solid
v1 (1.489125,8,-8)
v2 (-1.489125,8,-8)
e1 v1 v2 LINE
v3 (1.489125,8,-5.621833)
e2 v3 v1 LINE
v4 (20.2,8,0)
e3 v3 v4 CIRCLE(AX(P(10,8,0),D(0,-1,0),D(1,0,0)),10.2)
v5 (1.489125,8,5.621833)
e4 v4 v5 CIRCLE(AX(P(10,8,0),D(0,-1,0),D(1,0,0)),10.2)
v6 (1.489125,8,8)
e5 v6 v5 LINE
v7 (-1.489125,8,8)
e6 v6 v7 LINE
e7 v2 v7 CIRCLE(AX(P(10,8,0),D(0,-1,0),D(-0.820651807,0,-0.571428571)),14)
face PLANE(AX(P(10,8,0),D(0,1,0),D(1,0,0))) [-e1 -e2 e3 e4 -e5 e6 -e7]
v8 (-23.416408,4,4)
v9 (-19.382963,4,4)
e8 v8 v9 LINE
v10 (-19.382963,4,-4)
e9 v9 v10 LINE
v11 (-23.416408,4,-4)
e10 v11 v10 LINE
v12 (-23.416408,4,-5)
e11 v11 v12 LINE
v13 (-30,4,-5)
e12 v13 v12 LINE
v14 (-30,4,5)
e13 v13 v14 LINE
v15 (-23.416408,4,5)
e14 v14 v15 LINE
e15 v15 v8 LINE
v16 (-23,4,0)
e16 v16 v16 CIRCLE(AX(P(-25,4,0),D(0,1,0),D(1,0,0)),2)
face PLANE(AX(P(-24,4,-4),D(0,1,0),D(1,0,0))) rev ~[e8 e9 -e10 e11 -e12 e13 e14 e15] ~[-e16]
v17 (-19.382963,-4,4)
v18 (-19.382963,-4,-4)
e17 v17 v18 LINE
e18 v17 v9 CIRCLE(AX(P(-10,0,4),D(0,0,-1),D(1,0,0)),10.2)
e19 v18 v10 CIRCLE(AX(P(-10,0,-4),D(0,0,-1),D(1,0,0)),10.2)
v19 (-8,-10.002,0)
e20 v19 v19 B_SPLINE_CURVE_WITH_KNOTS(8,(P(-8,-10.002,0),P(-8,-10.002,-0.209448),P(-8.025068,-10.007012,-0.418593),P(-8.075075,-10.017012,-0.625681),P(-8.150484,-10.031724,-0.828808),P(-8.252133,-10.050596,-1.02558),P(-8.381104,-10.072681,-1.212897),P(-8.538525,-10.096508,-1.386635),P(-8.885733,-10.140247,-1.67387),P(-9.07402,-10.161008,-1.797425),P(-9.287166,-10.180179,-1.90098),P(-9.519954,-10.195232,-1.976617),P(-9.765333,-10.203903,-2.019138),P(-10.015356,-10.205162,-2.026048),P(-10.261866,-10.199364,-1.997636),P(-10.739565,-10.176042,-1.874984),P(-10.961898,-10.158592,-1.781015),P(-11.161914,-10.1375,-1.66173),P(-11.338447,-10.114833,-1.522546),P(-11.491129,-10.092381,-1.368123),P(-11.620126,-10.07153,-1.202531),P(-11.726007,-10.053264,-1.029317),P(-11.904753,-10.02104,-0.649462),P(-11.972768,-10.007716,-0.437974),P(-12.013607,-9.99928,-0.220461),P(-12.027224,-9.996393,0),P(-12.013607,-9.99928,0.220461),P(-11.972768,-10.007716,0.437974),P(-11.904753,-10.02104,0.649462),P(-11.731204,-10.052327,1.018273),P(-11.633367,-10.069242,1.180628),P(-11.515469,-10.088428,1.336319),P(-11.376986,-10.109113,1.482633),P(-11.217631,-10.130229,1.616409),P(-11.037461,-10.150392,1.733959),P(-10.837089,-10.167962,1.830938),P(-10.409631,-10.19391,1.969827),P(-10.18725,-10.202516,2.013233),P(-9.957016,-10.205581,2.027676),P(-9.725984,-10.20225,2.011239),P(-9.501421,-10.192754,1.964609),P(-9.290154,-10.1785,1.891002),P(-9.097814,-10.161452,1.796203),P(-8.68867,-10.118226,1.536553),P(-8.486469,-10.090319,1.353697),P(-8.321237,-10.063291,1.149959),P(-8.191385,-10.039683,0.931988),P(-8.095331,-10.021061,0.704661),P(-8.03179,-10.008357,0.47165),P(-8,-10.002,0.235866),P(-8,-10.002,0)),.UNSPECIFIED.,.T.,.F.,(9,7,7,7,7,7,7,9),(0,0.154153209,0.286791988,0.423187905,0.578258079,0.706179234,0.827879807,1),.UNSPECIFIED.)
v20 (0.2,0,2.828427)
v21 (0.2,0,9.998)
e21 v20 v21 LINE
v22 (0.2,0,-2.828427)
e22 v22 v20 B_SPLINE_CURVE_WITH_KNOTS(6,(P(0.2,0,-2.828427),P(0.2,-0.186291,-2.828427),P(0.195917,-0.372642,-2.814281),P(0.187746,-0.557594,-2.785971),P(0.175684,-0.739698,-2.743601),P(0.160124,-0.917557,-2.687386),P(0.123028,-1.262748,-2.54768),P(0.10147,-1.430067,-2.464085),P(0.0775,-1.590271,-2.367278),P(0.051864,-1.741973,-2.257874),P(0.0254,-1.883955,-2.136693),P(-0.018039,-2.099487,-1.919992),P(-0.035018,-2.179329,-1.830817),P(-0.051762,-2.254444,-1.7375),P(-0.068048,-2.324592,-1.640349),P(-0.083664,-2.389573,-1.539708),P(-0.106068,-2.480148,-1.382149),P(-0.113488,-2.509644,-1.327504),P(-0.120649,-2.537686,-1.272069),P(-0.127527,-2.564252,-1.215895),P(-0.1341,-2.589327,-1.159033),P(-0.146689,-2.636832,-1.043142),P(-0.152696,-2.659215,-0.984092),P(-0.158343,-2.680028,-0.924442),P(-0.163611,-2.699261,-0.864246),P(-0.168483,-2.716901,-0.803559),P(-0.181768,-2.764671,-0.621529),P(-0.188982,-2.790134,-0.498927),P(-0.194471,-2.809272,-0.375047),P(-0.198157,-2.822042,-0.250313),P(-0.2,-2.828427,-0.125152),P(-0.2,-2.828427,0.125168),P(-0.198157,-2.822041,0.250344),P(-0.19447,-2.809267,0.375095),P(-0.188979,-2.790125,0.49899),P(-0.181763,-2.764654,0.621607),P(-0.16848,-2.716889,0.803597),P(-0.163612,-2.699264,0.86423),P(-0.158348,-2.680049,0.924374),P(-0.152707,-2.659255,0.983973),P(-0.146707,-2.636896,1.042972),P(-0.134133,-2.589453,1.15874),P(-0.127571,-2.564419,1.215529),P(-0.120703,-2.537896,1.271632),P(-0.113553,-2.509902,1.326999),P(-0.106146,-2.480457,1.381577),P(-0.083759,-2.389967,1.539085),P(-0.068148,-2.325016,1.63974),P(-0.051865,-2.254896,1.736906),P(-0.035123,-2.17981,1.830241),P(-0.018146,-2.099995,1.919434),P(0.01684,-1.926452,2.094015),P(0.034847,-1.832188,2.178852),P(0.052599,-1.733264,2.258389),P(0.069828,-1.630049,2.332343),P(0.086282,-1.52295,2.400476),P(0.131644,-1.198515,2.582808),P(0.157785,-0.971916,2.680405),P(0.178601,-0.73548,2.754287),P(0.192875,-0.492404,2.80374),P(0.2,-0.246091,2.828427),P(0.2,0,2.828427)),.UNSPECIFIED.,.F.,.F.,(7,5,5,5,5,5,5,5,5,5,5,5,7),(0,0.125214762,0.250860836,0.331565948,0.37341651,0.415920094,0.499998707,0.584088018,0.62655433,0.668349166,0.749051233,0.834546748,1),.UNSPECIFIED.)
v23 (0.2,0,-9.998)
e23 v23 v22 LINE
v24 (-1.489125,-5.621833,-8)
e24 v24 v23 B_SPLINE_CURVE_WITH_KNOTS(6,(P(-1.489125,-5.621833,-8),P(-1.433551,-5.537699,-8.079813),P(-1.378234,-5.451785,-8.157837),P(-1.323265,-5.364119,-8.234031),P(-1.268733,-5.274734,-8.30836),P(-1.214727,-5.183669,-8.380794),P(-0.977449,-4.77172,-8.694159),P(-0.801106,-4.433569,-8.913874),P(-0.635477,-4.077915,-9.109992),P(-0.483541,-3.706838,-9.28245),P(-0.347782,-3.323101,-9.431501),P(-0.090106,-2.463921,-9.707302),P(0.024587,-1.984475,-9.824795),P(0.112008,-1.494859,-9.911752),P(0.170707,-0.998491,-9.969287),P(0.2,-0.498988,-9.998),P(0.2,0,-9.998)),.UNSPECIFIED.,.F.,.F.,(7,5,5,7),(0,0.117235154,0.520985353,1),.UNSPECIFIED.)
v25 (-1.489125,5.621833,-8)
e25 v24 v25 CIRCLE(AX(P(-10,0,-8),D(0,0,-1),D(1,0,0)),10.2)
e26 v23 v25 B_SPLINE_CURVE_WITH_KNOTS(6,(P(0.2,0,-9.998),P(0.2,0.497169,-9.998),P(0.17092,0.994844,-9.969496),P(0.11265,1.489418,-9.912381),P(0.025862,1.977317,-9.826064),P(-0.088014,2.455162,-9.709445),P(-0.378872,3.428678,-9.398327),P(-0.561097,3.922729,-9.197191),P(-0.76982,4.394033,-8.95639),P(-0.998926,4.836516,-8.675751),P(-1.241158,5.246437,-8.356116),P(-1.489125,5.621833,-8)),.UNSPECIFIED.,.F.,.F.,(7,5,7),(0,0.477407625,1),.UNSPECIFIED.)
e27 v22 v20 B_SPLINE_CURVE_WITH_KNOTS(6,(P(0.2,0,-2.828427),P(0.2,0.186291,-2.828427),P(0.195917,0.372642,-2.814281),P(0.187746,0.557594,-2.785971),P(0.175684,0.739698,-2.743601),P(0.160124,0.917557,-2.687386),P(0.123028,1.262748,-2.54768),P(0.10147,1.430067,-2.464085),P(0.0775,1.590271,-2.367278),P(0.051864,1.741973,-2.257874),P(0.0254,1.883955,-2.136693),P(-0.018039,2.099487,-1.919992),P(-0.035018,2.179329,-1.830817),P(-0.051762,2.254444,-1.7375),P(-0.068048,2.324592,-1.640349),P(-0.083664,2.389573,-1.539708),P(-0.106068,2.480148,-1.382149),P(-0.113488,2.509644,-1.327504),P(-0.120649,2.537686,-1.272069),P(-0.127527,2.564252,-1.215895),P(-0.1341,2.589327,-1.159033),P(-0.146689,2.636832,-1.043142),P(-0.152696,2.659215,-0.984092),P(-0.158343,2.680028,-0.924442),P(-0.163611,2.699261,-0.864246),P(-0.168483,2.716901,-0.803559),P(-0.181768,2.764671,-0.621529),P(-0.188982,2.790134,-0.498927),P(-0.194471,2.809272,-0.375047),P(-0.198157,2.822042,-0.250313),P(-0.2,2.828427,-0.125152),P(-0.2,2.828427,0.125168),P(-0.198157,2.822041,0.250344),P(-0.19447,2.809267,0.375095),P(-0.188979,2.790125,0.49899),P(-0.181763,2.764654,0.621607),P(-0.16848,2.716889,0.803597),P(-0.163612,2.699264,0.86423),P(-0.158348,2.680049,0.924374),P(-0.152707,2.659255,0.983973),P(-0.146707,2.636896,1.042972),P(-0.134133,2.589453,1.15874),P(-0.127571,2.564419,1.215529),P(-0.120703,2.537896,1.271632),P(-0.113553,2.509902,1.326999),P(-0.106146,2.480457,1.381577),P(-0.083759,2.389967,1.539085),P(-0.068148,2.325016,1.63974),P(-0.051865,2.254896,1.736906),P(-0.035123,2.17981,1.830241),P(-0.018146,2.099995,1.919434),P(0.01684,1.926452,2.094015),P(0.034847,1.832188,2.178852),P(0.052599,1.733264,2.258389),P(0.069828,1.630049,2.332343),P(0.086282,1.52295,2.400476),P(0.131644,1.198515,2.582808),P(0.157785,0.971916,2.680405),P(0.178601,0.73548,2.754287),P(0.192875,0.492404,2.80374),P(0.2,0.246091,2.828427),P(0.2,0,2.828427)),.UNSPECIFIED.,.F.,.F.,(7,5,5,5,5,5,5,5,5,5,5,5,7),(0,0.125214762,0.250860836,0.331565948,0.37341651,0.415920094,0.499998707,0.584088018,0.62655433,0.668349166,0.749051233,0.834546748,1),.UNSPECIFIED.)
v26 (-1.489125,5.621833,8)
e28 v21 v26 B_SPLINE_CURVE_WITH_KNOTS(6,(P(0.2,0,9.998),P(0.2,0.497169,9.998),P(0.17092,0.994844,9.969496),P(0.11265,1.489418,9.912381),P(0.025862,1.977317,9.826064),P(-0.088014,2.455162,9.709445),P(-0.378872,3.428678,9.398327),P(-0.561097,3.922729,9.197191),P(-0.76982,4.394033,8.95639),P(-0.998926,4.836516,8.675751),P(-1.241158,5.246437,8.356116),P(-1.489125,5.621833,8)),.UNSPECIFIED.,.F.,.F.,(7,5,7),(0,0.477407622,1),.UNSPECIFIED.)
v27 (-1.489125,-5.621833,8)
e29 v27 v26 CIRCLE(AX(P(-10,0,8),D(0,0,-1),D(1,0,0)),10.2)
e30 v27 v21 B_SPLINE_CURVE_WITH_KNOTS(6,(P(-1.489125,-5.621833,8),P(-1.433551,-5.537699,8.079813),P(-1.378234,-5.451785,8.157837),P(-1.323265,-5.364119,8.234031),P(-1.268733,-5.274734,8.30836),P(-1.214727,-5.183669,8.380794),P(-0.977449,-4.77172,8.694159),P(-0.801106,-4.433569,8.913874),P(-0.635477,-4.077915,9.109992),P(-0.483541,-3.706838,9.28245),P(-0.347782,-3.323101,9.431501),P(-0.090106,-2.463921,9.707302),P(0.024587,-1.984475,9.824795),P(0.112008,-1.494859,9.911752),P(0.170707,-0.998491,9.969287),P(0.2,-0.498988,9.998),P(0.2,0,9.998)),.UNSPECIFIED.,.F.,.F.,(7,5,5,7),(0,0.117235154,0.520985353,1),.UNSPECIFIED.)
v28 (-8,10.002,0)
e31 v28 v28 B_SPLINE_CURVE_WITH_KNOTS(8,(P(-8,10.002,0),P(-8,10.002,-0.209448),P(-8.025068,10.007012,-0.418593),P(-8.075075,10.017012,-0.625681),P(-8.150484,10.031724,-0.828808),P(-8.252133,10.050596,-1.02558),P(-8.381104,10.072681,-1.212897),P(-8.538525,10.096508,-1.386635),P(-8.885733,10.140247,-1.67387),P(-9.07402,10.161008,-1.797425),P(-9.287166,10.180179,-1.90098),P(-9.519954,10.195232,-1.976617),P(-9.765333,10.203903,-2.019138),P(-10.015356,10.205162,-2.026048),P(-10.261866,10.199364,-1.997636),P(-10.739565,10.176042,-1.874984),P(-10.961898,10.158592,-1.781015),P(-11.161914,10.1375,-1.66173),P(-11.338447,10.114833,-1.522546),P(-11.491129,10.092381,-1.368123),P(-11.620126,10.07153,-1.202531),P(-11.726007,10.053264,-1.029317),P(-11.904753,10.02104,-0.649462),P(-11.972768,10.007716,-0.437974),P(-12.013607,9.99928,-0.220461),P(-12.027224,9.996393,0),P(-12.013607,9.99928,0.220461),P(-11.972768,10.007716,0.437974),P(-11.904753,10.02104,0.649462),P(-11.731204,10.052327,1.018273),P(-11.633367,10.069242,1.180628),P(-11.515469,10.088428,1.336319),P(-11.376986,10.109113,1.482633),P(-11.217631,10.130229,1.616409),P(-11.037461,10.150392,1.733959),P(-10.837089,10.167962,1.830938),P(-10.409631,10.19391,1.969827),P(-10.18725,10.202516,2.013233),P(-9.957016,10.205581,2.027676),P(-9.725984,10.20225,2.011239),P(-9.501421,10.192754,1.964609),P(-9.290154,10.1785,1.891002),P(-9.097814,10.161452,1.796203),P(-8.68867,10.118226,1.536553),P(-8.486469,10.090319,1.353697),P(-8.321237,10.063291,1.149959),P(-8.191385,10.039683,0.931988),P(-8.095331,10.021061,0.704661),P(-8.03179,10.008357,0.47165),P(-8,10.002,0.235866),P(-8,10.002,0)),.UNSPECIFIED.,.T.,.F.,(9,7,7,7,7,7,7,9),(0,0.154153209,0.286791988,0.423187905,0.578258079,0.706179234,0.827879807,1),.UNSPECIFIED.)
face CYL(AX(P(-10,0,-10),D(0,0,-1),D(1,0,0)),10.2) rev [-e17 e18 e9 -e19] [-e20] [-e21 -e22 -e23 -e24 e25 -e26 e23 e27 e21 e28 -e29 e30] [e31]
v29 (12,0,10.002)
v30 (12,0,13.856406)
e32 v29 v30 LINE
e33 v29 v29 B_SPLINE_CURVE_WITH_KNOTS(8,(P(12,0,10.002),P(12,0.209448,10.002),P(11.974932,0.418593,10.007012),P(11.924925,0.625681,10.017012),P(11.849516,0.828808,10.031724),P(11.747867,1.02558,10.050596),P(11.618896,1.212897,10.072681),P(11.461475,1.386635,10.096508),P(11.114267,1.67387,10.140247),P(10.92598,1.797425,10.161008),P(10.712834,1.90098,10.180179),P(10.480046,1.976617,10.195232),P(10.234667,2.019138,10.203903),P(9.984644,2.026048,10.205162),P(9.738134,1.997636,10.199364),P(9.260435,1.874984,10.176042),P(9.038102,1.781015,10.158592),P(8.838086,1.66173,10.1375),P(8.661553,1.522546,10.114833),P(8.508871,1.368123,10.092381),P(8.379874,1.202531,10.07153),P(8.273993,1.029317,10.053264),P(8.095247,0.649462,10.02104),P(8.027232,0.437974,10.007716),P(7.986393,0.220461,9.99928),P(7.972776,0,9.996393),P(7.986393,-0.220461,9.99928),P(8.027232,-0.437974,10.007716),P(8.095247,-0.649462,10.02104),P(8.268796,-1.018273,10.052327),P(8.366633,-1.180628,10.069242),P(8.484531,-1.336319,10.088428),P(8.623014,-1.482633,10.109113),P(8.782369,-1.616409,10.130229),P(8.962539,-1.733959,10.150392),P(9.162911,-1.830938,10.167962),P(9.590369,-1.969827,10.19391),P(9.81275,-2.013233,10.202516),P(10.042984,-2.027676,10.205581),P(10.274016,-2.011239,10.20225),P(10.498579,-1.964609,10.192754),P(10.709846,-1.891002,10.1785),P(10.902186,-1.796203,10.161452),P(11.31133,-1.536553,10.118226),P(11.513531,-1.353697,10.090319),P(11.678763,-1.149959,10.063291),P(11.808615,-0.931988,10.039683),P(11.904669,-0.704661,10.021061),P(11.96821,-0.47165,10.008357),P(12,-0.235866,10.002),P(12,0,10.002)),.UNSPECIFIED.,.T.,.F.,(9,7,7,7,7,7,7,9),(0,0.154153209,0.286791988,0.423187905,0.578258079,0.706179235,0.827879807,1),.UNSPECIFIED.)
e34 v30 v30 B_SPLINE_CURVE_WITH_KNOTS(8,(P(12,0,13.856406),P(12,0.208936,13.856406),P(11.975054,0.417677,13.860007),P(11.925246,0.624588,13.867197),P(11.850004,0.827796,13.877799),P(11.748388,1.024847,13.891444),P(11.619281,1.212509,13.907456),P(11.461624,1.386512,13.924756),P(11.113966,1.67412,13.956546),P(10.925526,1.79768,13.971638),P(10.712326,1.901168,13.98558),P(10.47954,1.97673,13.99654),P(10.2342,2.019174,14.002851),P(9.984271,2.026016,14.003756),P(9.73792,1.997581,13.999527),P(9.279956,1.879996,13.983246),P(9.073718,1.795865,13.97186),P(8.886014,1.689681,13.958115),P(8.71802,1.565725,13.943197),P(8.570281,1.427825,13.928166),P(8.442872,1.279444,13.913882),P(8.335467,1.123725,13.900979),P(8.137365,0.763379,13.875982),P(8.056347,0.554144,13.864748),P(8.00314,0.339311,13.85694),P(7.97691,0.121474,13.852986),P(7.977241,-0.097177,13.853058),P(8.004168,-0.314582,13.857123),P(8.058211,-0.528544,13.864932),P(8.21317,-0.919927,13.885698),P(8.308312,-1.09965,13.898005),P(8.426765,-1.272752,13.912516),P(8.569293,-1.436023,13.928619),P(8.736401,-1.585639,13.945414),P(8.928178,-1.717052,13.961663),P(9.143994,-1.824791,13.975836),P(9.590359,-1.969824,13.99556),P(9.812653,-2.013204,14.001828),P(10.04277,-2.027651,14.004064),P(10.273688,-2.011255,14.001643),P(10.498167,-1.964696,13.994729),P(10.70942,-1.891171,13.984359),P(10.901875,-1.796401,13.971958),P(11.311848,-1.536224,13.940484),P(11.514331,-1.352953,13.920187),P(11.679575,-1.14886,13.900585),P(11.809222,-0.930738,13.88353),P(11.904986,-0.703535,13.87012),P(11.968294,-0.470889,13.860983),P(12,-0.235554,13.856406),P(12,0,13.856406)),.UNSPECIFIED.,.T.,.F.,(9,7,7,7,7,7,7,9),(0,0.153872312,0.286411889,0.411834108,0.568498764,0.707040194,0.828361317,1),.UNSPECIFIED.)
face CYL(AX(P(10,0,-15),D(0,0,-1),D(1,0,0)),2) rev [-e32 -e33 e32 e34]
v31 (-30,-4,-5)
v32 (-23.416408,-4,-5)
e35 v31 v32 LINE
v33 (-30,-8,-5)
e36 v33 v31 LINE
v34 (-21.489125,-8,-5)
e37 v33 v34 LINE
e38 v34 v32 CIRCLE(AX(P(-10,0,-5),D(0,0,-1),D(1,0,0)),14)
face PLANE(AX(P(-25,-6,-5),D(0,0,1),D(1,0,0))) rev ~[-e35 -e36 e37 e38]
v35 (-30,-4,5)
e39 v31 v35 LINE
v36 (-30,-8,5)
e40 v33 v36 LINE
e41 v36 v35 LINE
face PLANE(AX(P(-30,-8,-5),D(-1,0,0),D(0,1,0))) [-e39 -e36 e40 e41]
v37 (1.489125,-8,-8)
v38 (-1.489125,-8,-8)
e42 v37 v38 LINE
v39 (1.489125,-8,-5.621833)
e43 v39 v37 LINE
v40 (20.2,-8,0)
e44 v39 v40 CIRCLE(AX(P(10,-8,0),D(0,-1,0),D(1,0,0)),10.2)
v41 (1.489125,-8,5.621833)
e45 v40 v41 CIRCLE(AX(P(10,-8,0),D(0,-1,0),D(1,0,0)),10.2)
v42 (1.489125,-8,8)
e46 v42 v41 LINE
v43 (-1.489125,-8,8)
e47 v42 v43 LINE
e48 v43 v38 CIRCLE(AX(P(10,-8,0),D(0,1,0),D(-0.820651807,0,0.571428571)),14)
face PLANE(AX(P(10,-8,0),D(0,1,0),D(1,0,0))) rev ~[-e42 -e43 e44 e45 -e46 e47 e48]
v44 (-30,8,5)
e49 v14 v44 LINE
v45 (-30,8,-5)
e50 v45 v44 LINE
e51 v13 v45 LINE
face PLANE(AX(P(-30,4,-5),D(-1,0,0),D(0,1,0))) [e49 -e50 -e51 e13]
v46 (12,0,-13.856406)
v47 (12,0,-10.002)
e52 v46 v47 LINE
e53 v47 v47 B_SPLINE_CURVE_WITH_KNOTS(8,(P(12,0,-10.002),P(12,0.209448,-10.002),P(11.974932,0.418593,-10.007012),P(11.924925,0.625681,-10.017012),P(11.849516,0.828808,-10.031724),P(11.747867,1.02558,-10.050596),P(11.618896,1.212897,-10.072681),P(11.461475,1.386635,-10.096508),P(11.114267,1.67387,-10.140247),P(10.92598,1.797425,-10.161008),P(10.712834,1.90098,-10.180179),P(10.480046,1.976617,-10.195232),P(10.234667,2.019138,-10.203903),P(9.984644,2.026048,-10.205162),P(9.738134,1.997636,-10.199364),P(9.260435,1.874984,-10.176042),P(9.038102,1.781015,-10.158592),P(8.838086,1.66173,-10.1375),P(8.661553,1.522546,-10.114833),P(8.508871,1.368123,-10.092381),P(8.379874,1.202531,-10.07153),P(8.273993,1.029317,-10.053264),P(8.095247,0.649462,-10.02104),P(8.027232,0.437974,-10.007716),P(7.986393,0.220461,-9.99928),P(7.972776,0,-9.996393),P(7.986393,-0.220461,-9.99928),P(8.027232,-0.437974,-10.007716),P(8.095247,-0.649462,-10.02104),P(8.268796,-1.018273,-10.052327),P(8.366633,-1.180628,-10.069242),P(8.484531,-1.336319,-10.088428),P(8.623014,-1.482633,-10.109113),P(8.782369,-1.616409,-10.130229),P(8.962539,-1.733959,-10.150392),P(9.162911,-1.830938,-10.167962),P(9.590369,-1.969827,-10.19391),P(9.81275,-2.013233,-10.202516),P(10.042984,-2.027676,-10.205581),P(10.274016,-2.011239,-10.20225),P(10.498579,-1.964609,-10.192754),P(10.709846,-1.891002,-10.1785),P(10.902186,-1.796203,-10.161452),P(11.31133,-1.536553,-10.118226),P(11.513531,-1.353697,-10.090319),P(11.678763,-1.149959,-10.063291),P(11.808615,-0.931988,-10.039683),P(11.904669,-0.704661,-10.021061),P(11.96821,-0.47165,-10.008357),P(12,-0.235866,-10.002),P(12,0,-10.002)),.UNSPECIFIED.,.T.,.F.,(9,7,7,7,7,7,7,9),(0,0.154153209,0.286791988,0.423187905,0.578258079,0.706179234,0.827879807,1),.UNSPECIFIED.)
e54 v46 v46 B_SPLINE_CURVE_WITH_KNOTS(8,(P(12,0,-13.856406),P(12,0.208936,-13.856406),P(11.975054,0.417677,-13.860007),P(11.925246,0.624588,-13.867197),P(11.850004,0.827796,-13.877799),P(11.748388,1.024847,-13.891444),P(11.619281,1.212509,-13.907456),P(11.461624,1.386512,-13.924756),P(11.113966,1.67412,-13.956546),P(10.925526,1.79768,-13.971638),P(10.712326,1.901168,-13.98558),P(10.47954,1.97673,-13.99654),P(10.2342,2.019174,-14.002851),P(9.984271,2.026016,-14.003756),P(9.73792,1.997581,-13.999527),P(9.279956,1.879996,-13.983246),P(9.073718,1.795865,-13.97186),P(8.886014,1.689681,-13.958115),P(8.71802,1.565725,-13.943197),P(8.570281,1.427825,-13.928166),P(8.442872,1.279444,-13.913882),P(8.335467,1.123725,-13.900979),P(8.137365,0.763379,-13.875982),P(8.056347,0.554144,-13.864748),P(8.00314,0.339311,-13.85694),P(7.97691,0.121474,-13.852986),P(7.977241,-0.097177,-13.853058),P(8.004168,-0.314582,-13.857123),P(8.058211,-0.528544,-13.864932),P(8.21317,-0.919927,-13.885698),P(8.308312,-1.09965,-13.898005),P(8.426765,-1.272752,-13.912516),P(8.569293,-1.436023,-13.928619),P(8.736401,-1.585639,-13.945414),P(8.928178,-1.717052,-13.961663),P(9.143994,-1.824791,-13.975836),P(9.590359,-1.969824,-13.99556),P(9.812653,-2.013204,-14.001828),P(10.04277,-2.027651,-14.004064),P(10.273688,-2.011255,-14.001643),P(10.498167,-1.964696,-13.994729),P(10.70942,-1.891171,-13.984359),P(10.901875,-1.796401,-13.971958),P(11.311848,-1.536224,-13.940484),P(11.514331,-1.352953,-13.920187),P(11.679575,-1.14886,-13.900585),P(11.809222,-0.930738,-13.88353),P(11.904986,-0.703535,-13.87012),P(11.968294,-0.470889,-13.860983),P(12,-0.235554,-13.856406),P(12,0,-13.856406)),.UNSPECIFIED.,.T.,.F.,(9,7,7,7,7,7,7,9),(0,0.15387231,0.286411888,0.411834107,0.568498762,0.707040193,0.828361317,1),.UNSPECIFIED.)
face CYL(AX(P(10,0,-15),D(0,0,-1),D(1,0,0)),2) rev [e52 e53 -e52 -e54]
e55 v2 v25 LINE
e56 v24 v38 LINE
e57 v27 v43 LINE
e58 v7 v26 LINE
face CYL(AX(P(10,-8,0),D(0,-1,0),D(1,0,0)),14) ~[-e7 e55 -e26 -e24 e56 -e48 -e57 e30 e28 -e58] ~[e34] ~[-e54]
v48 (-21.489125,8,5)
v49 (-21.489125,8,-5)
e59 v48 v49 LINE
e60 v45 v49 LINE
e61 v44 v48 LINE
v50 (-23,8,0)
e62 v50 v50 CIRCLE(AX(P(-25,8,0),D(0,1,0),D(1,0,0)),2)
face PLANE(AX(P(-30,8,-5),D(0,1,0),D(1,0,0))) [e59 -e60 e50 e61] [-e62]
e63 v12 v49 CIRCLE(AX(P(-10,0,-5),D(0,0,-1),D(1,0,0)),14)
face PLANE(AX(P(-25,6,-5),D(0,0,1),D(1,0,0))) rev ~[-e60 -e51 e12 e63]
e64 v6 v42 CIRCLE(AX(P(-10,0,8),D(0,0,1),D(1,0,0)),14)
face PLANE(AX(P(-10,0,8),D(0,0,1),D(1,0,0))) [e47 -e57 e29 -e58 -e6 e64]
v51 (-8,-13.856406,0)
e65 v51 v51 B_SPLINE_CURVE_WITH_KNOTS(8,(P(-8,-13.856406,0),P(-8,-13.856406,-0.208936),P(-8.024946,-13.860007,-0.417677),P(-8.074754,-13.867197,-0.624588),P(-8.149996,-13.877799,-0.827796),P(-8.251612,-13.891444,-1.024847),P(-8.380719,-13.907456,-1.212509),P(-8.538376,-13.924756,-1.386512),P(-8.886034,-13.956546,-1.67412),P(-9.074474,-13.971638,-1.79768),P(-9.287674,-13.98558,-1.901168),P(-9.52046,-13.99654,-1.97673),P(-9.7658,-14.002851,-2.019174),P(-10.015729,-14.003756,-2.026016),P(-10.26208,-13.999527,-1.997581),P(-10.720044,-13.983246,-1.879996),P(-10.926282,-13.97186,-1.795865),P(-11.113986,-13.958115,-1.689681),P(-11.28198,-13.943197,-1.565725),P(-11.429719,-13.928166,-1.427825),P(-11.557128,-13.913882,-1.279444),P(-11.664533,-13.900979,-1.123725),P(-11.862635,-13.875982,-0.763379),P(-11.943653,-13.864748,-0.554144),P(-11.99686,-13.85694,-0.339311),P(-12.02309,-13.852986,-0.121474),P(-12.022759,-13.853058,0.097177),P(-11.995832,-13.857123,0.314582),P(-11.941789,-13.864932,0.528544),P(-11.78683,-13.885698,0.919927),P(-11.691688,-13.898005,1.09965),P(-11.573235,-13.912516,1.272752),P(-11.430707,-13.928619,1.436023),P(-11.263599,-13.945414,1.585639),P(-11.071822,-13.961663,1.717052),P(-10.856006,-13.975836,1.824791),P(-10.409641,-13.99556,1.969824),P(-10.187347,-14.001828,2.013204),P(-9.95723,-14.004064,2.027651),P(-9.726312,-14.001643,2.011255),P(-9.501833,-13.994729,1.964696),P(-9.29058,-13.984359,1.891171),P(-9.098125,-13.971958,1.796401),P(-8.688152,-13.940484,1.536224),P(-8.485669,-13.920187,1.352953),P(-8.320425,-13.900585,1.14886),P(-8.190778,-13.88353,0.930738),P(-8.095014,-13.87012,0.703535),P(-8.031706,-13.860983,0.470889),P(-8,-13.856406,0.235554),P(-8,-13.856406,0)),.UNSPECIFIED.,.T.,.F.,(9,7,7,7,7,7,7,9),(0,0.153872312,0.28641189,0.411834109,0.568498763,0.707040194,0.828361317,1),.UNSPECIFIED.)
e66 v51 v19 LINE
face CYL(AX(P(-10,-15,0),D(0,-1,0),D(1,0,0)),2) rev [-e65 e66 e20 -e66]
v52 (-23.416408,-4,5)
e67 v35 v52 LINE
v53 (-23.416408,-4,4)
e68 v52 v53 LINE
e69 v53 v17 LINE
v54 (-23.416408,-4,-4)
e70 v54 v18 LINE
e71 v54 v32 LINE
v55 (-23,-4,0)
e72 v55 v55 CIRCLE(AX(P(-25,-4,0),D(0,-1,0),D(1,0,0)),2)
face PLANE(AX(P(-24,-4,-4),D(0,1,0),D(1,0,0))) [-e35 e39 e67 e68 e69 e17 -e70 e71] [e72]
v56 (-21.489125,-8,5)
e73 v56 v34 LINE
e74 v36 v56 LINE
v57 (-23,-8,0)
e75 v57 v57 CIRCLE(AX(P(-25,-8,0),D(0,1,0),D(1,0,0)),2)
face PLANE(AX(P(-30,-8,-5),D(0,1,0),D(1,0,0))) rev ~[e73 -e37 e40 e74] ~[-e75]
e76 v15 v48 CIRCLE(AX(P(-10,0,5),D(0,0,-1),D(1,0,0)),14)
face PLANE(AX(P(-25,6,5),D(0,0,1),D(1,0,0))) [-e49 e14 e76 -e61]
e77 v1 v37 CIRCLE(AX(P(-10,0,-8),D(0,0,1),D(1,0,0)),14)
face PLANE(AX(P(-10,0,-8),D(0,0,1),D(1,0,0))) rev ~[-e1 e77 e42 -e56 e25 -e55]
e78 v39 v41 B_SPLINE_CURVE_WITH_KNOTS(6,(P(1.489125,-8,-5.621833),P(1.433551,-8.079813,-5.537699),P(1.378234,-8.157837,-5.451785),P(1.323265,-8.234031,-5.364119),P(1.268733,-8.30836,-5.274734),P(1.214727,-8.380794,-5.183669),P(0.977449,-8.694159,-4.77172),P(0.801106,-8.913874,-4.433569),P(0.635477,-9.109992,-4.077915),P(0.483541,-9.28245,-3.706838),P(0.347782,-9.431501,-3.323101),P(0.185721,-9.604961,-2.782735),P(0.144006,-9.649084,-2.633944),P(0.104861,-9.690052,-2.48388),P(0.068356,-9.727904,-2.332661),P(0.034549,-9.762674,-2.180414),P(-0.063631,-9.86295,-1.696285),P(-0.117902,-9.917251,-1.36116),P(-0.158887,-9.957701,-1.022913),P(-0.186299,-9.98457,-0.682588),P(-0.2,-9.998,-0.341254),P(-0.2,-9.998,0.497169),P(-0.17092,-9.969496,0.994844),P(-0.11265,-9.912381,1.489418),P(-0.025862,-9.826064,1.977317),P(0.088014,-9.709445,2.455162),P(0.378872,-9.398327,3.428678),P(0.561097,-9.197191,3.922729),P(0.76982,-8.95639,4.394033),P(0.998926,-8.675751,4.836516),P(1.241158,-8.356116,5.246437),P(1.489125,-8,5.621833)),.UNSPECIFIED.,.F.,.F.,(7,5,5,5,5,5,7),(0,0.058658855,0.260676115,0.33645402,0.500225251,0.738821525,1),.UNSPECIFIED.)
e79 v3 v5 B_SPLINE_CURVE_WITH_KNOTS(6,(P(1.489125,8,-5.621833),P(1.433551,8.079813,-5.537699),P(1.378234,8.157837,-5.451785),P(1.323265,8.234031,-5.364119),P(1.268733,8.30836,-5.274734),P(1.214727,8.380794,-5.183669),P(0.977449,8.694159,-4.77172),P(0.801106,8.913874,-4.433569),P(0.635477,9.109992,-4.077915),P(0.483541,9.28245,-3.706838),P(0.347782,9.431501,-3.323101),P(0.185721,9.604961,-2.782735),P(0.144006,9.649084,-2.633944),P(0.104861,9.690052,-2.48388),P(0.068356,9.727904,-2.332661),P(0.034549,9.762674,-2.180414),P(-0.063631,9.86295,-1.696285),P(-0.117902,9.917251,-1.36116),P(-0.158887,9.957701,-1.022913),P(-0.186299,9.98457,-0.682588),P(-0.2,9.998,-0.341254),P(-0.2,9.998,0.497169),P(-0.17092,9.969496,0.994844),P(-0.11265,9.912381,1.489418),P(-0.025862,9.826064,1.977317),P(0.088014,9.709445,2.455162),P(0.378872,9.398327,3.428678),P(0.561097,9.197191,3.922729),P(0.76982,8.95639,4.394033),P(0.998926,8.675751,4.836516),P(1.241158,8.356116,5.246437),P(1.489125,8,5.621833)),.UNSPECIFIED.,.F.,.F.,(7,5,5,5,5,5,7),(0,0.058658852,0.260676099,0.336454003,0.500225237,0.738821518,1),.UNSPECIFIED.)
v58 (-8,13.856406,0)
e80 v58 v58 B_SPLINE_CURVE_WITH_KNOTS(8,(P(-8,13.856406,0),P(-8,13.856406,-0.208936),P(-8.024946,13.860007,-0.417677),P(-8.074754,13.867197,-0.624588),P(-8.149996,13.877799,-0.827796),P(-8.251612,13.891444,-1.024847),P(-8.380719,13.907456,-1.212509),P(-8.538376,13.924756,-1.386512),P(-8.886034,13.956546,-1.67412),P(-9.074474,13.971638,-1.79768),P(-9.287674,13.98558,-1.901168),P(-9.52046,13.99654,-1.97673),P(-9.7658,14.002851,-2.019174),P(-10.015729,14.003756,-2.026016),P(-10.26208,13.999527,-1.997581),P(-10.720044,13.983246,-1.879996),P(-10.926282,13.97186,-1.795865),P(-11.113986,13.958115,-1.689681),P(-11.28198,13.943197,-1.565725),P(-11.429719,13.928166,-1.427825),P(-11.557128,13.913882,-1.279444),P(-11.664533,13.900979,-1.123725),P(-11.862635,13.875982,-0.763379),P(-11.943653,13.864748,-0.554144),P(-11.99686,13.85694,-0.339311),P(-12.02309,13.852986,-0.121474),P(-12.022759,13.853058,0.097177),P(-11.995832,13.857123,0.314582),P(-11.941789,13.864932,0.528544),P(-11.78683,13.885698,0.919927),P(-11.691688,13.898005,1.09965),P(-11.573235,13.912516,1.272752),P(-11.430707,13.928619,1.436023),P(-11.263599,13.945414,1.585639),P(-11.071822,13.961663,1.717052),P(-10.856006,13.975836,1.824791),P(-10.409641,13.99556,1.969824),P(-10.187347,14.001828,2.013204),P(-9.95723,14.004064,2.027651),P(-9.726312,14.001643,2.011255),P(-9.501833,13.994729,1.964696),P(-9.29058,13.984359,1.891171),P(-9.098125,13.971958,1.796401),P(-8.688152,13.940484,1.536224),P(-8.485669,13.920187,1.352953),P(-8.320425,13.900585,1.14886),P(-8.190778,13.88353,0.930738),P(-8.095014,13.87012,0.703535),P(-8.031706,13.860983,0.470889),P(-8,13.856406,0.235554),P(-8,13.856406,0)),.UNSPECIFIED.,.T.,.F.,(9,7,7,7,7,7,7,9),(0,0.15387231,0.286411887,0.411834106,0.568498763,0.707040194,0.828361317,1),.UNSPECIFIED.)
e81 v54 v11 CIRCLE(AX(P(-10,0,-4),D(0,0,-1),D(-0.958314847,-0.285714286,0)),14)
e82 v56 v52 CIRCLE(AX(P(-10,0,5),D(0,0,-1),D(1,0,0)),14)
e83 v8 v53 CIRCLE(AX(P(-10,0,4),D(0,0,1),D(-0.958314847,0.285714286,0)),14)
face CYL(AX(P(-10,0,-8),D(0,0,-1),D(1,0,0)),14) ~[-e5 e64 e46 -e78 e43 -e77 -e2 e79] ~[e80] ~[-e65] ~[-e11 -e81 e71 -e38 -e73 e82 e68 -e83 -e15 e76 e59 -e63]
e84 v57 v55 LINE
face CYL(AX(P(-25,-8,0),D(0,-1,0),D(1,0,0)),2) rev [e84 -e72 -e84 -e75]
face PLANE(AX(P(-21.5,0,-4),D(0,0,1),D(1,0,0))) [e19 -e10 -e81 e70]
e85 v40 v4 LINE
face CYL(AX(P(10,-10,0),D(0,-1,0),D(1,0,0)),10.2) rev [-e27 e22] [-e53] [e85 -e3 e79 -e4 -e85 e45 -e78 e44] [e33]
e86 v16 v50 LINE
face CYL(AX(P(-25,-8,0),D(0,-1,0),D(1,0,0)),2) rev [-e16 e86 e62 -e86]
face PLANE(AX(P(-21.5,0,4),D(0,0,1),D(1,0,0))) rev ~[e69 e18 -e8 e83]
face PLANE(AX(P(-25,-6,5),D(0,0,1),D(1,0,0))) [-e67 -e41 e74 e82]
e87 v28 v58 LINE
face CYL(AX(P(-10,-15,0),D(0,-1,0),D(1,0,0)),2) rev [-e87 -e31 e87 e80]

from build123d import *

# Parameters (mm, degrees)
CYLINDER004_R          = 2
CYLINDER004_DEPTH      = 16
CYLINDER004_ROLL_ANGLE = -90
BOX001_W               = 5
BOX001_H               = 8
BOX001_DEPTH           = 8
CYLINDER006_R          = 2
CYLINDER006_DEPTH      = 30
CYLINDER006_ROLL_ANGLE = -90
CYLINDER003_R          = 10.2
CYLINDER003_DEPTH      = 20
CYLINDER003_ROLL_ANGLE = -90
CYLINDER005_R          = 2
CYLINDER005_DEPTH      = 30
CYLINDER002_R          = 10.2
CYLINDER002_DEPTH      = 28
BOX_W                  = 10
BOX_H                  = 4
BOX_DEPTH              = 10
BOX002_W               = 10
BOX002_H               = 4
BOX002_DEPTH           = 10
CYLINDER001_R          = 14
CYLINDER001_DEPTH      = 16
CYLINDER001_ROLL_ANGLE = -90
CYLINDER_R             = 14
CYLINDER_DEPTH         = 16


with BuildPart() as cylinder004:
    # Cylinder004 → Cylinder004 (new body)
    with BuildSketch(Plane.XY):
        Circle(CYLINDER004_R)
    extrude(amount=CYLINDER004_DEPTH)


with BuildPart() as cylinder004_1:
    # Cylinder004 roll: moved
    add(cylinder004.part.rotate(Axis((0, 0, 0), (1, 0, 0)), CYLINDER004_ROLL_ANGLE))


with BuildPart() as cylinder004_2:
    # Cylinder004 placement: moved
    add(cylinder004_1.part.moved(Location((-25, -8, 0))))


with BuildPart() as cube001:
    # Box001 → Box001 (new body)
    with BuildSketch(Plane(origin=(-24, -4, -4), x_dir=(1, 0, 0), z_dir=(0, 0, 1))):
        with Locations((2.5, 4)):
            Rectangle(BOX001_W, BOX001_H)
    extrude(amount=BOX001_DEPTH)


with BuildPart() as cylinder006:
    # Cylinder006 → Cylinder006 (new body)
    with BuildSketch(Plane.XY):
        Circle(CYLINDER006_R)
    extrude(amount=CYLINDER006_DEPTH)


with BuildPart() as cylinder006_1:
    # Cylinder006 roll: moved
    add(cylinder006.part.rotate(Axis((0, 0, 0), (1, 0, 0)), CYLINDER006_ROLL_ANGLE))


with BuildPart() as cylinder006_2:
    # Cylinder006 placement: moved
    add(cylinder006_1.part.moved(Location((-10, -15, 0))))


with BuildPart() as cylinder003:
    # Cylinder003 → Cylinder003 (new body)
    with BuildSketch(Plane.XY):
        Circle(CYLINDER003_R)
    extrude(amount=CYLINDER003_DEPTH)


with BuildPart() as cylinder003_1:
    # Cylinder003 roll: moved
    add(cylinder003.part.rotate(Axis((0, 0, 0), (1, 0, 0)), CYLINDER003_ROLL_ANGLE))


with BuildPart() as cylinder003_2:
    # Cylinder003 placement: moved
    add(cylinder003_1.part.moved(Location((10, -10, 0))))


with BuildPart() as cylinder005:
    # Cylinder005 → Cylinder005 (new body)
    with BuildSketch(Plane(origin=(10, 0, -15), x_dir=(1, 0, 0), z_dir=(0, 0, 1))):
        Circle(CYLINDER005_R)
    extrude(amount=CYLINDER005_DEPTH)


with BuildPart() as negative_fusion:
    # Cylinder002 → Cylinder002 (new body)
    with BuildSketch(Plane(origin=(-10, 0, -10), x_dir=(1, 0, 0), z_dir=(0, 0, 1))):
        Circle(CYLINDER002_R)
    extrude(amount=CYLINDER002_DEPTH)

    # Fusion001: union Cylinder004, Cube001, Cylinder006, Cylinder003, Cylinder005
    add(cylinder004_2.part)
    add(cube001.part)
    add(cylinder006_2.part)
    add(cylinder003_2.part)
    add(cylinder005.part)


with BuildPart() as cube:
    # Box → Box (new body)
    with BuildSketch(Plane(origin=(-30, -8, -5), x_dir=(1, 0, 0), z_dir=(0, 0, 1))):
        with Locations((5, 2)):
            Rectangle(BOX_W, BOX_H)
    extrude(amount=BOX_DEPTH)


with BuildPart() as cube002:
    # Box002 → Box002 (new body)
    with BuildSketch(Plane(origin=(-30, 4, -5), x_dir=(1, 0, 0), z_dir=(0, 0, 1))):
        with Locations((5, 2)):
            Rectangle(BOX002_W, BOX002_H)
    extrude(amount=BOX002_DEPTH)


with BuildPart() as cylinder001:
    # Cylinder001 → Cylinder001 (new body)
    with BuildSketch(Plane.XY):
        Circle(CYLINDER001_R)
    extrude(amount=CYLINDER001_DEPTH)


with BuildPart() as cylinder001_1:
    # Cylinder001 roll: moved
    add(cylinder001.part.rotate(Axis((0, 0, 0), (1, 0, 0)), CYLINDER001_ROLL_ANGLE))


with BuildPart() as cylinder001_2:
    # Cylinder001 placement: moved
    add(cylinder001_1.part.moved(Location((10, -8, 0))))


with BuildPart() as cut:
    # Cylinder → Cylinder (new body)
    with BuildSketch(Plane(origin=(-10, 0, -8), x_dir=(1, 0, 0), z_dir=(0, 0, 1))):
        Circle(CYLINDER_R)
    extrude(amount=CYLINDER_DEPTH)

    # Fusion: union Cube, Cube002, Cylinder001
    add(cube.part)
    add(cube002.part)
    add(cylinder001_2.part)

    # Cut: cut Negative Fusion
    add(negative_fusion.part, mode=Mode.SUBTRACT)


solid = cut.part
